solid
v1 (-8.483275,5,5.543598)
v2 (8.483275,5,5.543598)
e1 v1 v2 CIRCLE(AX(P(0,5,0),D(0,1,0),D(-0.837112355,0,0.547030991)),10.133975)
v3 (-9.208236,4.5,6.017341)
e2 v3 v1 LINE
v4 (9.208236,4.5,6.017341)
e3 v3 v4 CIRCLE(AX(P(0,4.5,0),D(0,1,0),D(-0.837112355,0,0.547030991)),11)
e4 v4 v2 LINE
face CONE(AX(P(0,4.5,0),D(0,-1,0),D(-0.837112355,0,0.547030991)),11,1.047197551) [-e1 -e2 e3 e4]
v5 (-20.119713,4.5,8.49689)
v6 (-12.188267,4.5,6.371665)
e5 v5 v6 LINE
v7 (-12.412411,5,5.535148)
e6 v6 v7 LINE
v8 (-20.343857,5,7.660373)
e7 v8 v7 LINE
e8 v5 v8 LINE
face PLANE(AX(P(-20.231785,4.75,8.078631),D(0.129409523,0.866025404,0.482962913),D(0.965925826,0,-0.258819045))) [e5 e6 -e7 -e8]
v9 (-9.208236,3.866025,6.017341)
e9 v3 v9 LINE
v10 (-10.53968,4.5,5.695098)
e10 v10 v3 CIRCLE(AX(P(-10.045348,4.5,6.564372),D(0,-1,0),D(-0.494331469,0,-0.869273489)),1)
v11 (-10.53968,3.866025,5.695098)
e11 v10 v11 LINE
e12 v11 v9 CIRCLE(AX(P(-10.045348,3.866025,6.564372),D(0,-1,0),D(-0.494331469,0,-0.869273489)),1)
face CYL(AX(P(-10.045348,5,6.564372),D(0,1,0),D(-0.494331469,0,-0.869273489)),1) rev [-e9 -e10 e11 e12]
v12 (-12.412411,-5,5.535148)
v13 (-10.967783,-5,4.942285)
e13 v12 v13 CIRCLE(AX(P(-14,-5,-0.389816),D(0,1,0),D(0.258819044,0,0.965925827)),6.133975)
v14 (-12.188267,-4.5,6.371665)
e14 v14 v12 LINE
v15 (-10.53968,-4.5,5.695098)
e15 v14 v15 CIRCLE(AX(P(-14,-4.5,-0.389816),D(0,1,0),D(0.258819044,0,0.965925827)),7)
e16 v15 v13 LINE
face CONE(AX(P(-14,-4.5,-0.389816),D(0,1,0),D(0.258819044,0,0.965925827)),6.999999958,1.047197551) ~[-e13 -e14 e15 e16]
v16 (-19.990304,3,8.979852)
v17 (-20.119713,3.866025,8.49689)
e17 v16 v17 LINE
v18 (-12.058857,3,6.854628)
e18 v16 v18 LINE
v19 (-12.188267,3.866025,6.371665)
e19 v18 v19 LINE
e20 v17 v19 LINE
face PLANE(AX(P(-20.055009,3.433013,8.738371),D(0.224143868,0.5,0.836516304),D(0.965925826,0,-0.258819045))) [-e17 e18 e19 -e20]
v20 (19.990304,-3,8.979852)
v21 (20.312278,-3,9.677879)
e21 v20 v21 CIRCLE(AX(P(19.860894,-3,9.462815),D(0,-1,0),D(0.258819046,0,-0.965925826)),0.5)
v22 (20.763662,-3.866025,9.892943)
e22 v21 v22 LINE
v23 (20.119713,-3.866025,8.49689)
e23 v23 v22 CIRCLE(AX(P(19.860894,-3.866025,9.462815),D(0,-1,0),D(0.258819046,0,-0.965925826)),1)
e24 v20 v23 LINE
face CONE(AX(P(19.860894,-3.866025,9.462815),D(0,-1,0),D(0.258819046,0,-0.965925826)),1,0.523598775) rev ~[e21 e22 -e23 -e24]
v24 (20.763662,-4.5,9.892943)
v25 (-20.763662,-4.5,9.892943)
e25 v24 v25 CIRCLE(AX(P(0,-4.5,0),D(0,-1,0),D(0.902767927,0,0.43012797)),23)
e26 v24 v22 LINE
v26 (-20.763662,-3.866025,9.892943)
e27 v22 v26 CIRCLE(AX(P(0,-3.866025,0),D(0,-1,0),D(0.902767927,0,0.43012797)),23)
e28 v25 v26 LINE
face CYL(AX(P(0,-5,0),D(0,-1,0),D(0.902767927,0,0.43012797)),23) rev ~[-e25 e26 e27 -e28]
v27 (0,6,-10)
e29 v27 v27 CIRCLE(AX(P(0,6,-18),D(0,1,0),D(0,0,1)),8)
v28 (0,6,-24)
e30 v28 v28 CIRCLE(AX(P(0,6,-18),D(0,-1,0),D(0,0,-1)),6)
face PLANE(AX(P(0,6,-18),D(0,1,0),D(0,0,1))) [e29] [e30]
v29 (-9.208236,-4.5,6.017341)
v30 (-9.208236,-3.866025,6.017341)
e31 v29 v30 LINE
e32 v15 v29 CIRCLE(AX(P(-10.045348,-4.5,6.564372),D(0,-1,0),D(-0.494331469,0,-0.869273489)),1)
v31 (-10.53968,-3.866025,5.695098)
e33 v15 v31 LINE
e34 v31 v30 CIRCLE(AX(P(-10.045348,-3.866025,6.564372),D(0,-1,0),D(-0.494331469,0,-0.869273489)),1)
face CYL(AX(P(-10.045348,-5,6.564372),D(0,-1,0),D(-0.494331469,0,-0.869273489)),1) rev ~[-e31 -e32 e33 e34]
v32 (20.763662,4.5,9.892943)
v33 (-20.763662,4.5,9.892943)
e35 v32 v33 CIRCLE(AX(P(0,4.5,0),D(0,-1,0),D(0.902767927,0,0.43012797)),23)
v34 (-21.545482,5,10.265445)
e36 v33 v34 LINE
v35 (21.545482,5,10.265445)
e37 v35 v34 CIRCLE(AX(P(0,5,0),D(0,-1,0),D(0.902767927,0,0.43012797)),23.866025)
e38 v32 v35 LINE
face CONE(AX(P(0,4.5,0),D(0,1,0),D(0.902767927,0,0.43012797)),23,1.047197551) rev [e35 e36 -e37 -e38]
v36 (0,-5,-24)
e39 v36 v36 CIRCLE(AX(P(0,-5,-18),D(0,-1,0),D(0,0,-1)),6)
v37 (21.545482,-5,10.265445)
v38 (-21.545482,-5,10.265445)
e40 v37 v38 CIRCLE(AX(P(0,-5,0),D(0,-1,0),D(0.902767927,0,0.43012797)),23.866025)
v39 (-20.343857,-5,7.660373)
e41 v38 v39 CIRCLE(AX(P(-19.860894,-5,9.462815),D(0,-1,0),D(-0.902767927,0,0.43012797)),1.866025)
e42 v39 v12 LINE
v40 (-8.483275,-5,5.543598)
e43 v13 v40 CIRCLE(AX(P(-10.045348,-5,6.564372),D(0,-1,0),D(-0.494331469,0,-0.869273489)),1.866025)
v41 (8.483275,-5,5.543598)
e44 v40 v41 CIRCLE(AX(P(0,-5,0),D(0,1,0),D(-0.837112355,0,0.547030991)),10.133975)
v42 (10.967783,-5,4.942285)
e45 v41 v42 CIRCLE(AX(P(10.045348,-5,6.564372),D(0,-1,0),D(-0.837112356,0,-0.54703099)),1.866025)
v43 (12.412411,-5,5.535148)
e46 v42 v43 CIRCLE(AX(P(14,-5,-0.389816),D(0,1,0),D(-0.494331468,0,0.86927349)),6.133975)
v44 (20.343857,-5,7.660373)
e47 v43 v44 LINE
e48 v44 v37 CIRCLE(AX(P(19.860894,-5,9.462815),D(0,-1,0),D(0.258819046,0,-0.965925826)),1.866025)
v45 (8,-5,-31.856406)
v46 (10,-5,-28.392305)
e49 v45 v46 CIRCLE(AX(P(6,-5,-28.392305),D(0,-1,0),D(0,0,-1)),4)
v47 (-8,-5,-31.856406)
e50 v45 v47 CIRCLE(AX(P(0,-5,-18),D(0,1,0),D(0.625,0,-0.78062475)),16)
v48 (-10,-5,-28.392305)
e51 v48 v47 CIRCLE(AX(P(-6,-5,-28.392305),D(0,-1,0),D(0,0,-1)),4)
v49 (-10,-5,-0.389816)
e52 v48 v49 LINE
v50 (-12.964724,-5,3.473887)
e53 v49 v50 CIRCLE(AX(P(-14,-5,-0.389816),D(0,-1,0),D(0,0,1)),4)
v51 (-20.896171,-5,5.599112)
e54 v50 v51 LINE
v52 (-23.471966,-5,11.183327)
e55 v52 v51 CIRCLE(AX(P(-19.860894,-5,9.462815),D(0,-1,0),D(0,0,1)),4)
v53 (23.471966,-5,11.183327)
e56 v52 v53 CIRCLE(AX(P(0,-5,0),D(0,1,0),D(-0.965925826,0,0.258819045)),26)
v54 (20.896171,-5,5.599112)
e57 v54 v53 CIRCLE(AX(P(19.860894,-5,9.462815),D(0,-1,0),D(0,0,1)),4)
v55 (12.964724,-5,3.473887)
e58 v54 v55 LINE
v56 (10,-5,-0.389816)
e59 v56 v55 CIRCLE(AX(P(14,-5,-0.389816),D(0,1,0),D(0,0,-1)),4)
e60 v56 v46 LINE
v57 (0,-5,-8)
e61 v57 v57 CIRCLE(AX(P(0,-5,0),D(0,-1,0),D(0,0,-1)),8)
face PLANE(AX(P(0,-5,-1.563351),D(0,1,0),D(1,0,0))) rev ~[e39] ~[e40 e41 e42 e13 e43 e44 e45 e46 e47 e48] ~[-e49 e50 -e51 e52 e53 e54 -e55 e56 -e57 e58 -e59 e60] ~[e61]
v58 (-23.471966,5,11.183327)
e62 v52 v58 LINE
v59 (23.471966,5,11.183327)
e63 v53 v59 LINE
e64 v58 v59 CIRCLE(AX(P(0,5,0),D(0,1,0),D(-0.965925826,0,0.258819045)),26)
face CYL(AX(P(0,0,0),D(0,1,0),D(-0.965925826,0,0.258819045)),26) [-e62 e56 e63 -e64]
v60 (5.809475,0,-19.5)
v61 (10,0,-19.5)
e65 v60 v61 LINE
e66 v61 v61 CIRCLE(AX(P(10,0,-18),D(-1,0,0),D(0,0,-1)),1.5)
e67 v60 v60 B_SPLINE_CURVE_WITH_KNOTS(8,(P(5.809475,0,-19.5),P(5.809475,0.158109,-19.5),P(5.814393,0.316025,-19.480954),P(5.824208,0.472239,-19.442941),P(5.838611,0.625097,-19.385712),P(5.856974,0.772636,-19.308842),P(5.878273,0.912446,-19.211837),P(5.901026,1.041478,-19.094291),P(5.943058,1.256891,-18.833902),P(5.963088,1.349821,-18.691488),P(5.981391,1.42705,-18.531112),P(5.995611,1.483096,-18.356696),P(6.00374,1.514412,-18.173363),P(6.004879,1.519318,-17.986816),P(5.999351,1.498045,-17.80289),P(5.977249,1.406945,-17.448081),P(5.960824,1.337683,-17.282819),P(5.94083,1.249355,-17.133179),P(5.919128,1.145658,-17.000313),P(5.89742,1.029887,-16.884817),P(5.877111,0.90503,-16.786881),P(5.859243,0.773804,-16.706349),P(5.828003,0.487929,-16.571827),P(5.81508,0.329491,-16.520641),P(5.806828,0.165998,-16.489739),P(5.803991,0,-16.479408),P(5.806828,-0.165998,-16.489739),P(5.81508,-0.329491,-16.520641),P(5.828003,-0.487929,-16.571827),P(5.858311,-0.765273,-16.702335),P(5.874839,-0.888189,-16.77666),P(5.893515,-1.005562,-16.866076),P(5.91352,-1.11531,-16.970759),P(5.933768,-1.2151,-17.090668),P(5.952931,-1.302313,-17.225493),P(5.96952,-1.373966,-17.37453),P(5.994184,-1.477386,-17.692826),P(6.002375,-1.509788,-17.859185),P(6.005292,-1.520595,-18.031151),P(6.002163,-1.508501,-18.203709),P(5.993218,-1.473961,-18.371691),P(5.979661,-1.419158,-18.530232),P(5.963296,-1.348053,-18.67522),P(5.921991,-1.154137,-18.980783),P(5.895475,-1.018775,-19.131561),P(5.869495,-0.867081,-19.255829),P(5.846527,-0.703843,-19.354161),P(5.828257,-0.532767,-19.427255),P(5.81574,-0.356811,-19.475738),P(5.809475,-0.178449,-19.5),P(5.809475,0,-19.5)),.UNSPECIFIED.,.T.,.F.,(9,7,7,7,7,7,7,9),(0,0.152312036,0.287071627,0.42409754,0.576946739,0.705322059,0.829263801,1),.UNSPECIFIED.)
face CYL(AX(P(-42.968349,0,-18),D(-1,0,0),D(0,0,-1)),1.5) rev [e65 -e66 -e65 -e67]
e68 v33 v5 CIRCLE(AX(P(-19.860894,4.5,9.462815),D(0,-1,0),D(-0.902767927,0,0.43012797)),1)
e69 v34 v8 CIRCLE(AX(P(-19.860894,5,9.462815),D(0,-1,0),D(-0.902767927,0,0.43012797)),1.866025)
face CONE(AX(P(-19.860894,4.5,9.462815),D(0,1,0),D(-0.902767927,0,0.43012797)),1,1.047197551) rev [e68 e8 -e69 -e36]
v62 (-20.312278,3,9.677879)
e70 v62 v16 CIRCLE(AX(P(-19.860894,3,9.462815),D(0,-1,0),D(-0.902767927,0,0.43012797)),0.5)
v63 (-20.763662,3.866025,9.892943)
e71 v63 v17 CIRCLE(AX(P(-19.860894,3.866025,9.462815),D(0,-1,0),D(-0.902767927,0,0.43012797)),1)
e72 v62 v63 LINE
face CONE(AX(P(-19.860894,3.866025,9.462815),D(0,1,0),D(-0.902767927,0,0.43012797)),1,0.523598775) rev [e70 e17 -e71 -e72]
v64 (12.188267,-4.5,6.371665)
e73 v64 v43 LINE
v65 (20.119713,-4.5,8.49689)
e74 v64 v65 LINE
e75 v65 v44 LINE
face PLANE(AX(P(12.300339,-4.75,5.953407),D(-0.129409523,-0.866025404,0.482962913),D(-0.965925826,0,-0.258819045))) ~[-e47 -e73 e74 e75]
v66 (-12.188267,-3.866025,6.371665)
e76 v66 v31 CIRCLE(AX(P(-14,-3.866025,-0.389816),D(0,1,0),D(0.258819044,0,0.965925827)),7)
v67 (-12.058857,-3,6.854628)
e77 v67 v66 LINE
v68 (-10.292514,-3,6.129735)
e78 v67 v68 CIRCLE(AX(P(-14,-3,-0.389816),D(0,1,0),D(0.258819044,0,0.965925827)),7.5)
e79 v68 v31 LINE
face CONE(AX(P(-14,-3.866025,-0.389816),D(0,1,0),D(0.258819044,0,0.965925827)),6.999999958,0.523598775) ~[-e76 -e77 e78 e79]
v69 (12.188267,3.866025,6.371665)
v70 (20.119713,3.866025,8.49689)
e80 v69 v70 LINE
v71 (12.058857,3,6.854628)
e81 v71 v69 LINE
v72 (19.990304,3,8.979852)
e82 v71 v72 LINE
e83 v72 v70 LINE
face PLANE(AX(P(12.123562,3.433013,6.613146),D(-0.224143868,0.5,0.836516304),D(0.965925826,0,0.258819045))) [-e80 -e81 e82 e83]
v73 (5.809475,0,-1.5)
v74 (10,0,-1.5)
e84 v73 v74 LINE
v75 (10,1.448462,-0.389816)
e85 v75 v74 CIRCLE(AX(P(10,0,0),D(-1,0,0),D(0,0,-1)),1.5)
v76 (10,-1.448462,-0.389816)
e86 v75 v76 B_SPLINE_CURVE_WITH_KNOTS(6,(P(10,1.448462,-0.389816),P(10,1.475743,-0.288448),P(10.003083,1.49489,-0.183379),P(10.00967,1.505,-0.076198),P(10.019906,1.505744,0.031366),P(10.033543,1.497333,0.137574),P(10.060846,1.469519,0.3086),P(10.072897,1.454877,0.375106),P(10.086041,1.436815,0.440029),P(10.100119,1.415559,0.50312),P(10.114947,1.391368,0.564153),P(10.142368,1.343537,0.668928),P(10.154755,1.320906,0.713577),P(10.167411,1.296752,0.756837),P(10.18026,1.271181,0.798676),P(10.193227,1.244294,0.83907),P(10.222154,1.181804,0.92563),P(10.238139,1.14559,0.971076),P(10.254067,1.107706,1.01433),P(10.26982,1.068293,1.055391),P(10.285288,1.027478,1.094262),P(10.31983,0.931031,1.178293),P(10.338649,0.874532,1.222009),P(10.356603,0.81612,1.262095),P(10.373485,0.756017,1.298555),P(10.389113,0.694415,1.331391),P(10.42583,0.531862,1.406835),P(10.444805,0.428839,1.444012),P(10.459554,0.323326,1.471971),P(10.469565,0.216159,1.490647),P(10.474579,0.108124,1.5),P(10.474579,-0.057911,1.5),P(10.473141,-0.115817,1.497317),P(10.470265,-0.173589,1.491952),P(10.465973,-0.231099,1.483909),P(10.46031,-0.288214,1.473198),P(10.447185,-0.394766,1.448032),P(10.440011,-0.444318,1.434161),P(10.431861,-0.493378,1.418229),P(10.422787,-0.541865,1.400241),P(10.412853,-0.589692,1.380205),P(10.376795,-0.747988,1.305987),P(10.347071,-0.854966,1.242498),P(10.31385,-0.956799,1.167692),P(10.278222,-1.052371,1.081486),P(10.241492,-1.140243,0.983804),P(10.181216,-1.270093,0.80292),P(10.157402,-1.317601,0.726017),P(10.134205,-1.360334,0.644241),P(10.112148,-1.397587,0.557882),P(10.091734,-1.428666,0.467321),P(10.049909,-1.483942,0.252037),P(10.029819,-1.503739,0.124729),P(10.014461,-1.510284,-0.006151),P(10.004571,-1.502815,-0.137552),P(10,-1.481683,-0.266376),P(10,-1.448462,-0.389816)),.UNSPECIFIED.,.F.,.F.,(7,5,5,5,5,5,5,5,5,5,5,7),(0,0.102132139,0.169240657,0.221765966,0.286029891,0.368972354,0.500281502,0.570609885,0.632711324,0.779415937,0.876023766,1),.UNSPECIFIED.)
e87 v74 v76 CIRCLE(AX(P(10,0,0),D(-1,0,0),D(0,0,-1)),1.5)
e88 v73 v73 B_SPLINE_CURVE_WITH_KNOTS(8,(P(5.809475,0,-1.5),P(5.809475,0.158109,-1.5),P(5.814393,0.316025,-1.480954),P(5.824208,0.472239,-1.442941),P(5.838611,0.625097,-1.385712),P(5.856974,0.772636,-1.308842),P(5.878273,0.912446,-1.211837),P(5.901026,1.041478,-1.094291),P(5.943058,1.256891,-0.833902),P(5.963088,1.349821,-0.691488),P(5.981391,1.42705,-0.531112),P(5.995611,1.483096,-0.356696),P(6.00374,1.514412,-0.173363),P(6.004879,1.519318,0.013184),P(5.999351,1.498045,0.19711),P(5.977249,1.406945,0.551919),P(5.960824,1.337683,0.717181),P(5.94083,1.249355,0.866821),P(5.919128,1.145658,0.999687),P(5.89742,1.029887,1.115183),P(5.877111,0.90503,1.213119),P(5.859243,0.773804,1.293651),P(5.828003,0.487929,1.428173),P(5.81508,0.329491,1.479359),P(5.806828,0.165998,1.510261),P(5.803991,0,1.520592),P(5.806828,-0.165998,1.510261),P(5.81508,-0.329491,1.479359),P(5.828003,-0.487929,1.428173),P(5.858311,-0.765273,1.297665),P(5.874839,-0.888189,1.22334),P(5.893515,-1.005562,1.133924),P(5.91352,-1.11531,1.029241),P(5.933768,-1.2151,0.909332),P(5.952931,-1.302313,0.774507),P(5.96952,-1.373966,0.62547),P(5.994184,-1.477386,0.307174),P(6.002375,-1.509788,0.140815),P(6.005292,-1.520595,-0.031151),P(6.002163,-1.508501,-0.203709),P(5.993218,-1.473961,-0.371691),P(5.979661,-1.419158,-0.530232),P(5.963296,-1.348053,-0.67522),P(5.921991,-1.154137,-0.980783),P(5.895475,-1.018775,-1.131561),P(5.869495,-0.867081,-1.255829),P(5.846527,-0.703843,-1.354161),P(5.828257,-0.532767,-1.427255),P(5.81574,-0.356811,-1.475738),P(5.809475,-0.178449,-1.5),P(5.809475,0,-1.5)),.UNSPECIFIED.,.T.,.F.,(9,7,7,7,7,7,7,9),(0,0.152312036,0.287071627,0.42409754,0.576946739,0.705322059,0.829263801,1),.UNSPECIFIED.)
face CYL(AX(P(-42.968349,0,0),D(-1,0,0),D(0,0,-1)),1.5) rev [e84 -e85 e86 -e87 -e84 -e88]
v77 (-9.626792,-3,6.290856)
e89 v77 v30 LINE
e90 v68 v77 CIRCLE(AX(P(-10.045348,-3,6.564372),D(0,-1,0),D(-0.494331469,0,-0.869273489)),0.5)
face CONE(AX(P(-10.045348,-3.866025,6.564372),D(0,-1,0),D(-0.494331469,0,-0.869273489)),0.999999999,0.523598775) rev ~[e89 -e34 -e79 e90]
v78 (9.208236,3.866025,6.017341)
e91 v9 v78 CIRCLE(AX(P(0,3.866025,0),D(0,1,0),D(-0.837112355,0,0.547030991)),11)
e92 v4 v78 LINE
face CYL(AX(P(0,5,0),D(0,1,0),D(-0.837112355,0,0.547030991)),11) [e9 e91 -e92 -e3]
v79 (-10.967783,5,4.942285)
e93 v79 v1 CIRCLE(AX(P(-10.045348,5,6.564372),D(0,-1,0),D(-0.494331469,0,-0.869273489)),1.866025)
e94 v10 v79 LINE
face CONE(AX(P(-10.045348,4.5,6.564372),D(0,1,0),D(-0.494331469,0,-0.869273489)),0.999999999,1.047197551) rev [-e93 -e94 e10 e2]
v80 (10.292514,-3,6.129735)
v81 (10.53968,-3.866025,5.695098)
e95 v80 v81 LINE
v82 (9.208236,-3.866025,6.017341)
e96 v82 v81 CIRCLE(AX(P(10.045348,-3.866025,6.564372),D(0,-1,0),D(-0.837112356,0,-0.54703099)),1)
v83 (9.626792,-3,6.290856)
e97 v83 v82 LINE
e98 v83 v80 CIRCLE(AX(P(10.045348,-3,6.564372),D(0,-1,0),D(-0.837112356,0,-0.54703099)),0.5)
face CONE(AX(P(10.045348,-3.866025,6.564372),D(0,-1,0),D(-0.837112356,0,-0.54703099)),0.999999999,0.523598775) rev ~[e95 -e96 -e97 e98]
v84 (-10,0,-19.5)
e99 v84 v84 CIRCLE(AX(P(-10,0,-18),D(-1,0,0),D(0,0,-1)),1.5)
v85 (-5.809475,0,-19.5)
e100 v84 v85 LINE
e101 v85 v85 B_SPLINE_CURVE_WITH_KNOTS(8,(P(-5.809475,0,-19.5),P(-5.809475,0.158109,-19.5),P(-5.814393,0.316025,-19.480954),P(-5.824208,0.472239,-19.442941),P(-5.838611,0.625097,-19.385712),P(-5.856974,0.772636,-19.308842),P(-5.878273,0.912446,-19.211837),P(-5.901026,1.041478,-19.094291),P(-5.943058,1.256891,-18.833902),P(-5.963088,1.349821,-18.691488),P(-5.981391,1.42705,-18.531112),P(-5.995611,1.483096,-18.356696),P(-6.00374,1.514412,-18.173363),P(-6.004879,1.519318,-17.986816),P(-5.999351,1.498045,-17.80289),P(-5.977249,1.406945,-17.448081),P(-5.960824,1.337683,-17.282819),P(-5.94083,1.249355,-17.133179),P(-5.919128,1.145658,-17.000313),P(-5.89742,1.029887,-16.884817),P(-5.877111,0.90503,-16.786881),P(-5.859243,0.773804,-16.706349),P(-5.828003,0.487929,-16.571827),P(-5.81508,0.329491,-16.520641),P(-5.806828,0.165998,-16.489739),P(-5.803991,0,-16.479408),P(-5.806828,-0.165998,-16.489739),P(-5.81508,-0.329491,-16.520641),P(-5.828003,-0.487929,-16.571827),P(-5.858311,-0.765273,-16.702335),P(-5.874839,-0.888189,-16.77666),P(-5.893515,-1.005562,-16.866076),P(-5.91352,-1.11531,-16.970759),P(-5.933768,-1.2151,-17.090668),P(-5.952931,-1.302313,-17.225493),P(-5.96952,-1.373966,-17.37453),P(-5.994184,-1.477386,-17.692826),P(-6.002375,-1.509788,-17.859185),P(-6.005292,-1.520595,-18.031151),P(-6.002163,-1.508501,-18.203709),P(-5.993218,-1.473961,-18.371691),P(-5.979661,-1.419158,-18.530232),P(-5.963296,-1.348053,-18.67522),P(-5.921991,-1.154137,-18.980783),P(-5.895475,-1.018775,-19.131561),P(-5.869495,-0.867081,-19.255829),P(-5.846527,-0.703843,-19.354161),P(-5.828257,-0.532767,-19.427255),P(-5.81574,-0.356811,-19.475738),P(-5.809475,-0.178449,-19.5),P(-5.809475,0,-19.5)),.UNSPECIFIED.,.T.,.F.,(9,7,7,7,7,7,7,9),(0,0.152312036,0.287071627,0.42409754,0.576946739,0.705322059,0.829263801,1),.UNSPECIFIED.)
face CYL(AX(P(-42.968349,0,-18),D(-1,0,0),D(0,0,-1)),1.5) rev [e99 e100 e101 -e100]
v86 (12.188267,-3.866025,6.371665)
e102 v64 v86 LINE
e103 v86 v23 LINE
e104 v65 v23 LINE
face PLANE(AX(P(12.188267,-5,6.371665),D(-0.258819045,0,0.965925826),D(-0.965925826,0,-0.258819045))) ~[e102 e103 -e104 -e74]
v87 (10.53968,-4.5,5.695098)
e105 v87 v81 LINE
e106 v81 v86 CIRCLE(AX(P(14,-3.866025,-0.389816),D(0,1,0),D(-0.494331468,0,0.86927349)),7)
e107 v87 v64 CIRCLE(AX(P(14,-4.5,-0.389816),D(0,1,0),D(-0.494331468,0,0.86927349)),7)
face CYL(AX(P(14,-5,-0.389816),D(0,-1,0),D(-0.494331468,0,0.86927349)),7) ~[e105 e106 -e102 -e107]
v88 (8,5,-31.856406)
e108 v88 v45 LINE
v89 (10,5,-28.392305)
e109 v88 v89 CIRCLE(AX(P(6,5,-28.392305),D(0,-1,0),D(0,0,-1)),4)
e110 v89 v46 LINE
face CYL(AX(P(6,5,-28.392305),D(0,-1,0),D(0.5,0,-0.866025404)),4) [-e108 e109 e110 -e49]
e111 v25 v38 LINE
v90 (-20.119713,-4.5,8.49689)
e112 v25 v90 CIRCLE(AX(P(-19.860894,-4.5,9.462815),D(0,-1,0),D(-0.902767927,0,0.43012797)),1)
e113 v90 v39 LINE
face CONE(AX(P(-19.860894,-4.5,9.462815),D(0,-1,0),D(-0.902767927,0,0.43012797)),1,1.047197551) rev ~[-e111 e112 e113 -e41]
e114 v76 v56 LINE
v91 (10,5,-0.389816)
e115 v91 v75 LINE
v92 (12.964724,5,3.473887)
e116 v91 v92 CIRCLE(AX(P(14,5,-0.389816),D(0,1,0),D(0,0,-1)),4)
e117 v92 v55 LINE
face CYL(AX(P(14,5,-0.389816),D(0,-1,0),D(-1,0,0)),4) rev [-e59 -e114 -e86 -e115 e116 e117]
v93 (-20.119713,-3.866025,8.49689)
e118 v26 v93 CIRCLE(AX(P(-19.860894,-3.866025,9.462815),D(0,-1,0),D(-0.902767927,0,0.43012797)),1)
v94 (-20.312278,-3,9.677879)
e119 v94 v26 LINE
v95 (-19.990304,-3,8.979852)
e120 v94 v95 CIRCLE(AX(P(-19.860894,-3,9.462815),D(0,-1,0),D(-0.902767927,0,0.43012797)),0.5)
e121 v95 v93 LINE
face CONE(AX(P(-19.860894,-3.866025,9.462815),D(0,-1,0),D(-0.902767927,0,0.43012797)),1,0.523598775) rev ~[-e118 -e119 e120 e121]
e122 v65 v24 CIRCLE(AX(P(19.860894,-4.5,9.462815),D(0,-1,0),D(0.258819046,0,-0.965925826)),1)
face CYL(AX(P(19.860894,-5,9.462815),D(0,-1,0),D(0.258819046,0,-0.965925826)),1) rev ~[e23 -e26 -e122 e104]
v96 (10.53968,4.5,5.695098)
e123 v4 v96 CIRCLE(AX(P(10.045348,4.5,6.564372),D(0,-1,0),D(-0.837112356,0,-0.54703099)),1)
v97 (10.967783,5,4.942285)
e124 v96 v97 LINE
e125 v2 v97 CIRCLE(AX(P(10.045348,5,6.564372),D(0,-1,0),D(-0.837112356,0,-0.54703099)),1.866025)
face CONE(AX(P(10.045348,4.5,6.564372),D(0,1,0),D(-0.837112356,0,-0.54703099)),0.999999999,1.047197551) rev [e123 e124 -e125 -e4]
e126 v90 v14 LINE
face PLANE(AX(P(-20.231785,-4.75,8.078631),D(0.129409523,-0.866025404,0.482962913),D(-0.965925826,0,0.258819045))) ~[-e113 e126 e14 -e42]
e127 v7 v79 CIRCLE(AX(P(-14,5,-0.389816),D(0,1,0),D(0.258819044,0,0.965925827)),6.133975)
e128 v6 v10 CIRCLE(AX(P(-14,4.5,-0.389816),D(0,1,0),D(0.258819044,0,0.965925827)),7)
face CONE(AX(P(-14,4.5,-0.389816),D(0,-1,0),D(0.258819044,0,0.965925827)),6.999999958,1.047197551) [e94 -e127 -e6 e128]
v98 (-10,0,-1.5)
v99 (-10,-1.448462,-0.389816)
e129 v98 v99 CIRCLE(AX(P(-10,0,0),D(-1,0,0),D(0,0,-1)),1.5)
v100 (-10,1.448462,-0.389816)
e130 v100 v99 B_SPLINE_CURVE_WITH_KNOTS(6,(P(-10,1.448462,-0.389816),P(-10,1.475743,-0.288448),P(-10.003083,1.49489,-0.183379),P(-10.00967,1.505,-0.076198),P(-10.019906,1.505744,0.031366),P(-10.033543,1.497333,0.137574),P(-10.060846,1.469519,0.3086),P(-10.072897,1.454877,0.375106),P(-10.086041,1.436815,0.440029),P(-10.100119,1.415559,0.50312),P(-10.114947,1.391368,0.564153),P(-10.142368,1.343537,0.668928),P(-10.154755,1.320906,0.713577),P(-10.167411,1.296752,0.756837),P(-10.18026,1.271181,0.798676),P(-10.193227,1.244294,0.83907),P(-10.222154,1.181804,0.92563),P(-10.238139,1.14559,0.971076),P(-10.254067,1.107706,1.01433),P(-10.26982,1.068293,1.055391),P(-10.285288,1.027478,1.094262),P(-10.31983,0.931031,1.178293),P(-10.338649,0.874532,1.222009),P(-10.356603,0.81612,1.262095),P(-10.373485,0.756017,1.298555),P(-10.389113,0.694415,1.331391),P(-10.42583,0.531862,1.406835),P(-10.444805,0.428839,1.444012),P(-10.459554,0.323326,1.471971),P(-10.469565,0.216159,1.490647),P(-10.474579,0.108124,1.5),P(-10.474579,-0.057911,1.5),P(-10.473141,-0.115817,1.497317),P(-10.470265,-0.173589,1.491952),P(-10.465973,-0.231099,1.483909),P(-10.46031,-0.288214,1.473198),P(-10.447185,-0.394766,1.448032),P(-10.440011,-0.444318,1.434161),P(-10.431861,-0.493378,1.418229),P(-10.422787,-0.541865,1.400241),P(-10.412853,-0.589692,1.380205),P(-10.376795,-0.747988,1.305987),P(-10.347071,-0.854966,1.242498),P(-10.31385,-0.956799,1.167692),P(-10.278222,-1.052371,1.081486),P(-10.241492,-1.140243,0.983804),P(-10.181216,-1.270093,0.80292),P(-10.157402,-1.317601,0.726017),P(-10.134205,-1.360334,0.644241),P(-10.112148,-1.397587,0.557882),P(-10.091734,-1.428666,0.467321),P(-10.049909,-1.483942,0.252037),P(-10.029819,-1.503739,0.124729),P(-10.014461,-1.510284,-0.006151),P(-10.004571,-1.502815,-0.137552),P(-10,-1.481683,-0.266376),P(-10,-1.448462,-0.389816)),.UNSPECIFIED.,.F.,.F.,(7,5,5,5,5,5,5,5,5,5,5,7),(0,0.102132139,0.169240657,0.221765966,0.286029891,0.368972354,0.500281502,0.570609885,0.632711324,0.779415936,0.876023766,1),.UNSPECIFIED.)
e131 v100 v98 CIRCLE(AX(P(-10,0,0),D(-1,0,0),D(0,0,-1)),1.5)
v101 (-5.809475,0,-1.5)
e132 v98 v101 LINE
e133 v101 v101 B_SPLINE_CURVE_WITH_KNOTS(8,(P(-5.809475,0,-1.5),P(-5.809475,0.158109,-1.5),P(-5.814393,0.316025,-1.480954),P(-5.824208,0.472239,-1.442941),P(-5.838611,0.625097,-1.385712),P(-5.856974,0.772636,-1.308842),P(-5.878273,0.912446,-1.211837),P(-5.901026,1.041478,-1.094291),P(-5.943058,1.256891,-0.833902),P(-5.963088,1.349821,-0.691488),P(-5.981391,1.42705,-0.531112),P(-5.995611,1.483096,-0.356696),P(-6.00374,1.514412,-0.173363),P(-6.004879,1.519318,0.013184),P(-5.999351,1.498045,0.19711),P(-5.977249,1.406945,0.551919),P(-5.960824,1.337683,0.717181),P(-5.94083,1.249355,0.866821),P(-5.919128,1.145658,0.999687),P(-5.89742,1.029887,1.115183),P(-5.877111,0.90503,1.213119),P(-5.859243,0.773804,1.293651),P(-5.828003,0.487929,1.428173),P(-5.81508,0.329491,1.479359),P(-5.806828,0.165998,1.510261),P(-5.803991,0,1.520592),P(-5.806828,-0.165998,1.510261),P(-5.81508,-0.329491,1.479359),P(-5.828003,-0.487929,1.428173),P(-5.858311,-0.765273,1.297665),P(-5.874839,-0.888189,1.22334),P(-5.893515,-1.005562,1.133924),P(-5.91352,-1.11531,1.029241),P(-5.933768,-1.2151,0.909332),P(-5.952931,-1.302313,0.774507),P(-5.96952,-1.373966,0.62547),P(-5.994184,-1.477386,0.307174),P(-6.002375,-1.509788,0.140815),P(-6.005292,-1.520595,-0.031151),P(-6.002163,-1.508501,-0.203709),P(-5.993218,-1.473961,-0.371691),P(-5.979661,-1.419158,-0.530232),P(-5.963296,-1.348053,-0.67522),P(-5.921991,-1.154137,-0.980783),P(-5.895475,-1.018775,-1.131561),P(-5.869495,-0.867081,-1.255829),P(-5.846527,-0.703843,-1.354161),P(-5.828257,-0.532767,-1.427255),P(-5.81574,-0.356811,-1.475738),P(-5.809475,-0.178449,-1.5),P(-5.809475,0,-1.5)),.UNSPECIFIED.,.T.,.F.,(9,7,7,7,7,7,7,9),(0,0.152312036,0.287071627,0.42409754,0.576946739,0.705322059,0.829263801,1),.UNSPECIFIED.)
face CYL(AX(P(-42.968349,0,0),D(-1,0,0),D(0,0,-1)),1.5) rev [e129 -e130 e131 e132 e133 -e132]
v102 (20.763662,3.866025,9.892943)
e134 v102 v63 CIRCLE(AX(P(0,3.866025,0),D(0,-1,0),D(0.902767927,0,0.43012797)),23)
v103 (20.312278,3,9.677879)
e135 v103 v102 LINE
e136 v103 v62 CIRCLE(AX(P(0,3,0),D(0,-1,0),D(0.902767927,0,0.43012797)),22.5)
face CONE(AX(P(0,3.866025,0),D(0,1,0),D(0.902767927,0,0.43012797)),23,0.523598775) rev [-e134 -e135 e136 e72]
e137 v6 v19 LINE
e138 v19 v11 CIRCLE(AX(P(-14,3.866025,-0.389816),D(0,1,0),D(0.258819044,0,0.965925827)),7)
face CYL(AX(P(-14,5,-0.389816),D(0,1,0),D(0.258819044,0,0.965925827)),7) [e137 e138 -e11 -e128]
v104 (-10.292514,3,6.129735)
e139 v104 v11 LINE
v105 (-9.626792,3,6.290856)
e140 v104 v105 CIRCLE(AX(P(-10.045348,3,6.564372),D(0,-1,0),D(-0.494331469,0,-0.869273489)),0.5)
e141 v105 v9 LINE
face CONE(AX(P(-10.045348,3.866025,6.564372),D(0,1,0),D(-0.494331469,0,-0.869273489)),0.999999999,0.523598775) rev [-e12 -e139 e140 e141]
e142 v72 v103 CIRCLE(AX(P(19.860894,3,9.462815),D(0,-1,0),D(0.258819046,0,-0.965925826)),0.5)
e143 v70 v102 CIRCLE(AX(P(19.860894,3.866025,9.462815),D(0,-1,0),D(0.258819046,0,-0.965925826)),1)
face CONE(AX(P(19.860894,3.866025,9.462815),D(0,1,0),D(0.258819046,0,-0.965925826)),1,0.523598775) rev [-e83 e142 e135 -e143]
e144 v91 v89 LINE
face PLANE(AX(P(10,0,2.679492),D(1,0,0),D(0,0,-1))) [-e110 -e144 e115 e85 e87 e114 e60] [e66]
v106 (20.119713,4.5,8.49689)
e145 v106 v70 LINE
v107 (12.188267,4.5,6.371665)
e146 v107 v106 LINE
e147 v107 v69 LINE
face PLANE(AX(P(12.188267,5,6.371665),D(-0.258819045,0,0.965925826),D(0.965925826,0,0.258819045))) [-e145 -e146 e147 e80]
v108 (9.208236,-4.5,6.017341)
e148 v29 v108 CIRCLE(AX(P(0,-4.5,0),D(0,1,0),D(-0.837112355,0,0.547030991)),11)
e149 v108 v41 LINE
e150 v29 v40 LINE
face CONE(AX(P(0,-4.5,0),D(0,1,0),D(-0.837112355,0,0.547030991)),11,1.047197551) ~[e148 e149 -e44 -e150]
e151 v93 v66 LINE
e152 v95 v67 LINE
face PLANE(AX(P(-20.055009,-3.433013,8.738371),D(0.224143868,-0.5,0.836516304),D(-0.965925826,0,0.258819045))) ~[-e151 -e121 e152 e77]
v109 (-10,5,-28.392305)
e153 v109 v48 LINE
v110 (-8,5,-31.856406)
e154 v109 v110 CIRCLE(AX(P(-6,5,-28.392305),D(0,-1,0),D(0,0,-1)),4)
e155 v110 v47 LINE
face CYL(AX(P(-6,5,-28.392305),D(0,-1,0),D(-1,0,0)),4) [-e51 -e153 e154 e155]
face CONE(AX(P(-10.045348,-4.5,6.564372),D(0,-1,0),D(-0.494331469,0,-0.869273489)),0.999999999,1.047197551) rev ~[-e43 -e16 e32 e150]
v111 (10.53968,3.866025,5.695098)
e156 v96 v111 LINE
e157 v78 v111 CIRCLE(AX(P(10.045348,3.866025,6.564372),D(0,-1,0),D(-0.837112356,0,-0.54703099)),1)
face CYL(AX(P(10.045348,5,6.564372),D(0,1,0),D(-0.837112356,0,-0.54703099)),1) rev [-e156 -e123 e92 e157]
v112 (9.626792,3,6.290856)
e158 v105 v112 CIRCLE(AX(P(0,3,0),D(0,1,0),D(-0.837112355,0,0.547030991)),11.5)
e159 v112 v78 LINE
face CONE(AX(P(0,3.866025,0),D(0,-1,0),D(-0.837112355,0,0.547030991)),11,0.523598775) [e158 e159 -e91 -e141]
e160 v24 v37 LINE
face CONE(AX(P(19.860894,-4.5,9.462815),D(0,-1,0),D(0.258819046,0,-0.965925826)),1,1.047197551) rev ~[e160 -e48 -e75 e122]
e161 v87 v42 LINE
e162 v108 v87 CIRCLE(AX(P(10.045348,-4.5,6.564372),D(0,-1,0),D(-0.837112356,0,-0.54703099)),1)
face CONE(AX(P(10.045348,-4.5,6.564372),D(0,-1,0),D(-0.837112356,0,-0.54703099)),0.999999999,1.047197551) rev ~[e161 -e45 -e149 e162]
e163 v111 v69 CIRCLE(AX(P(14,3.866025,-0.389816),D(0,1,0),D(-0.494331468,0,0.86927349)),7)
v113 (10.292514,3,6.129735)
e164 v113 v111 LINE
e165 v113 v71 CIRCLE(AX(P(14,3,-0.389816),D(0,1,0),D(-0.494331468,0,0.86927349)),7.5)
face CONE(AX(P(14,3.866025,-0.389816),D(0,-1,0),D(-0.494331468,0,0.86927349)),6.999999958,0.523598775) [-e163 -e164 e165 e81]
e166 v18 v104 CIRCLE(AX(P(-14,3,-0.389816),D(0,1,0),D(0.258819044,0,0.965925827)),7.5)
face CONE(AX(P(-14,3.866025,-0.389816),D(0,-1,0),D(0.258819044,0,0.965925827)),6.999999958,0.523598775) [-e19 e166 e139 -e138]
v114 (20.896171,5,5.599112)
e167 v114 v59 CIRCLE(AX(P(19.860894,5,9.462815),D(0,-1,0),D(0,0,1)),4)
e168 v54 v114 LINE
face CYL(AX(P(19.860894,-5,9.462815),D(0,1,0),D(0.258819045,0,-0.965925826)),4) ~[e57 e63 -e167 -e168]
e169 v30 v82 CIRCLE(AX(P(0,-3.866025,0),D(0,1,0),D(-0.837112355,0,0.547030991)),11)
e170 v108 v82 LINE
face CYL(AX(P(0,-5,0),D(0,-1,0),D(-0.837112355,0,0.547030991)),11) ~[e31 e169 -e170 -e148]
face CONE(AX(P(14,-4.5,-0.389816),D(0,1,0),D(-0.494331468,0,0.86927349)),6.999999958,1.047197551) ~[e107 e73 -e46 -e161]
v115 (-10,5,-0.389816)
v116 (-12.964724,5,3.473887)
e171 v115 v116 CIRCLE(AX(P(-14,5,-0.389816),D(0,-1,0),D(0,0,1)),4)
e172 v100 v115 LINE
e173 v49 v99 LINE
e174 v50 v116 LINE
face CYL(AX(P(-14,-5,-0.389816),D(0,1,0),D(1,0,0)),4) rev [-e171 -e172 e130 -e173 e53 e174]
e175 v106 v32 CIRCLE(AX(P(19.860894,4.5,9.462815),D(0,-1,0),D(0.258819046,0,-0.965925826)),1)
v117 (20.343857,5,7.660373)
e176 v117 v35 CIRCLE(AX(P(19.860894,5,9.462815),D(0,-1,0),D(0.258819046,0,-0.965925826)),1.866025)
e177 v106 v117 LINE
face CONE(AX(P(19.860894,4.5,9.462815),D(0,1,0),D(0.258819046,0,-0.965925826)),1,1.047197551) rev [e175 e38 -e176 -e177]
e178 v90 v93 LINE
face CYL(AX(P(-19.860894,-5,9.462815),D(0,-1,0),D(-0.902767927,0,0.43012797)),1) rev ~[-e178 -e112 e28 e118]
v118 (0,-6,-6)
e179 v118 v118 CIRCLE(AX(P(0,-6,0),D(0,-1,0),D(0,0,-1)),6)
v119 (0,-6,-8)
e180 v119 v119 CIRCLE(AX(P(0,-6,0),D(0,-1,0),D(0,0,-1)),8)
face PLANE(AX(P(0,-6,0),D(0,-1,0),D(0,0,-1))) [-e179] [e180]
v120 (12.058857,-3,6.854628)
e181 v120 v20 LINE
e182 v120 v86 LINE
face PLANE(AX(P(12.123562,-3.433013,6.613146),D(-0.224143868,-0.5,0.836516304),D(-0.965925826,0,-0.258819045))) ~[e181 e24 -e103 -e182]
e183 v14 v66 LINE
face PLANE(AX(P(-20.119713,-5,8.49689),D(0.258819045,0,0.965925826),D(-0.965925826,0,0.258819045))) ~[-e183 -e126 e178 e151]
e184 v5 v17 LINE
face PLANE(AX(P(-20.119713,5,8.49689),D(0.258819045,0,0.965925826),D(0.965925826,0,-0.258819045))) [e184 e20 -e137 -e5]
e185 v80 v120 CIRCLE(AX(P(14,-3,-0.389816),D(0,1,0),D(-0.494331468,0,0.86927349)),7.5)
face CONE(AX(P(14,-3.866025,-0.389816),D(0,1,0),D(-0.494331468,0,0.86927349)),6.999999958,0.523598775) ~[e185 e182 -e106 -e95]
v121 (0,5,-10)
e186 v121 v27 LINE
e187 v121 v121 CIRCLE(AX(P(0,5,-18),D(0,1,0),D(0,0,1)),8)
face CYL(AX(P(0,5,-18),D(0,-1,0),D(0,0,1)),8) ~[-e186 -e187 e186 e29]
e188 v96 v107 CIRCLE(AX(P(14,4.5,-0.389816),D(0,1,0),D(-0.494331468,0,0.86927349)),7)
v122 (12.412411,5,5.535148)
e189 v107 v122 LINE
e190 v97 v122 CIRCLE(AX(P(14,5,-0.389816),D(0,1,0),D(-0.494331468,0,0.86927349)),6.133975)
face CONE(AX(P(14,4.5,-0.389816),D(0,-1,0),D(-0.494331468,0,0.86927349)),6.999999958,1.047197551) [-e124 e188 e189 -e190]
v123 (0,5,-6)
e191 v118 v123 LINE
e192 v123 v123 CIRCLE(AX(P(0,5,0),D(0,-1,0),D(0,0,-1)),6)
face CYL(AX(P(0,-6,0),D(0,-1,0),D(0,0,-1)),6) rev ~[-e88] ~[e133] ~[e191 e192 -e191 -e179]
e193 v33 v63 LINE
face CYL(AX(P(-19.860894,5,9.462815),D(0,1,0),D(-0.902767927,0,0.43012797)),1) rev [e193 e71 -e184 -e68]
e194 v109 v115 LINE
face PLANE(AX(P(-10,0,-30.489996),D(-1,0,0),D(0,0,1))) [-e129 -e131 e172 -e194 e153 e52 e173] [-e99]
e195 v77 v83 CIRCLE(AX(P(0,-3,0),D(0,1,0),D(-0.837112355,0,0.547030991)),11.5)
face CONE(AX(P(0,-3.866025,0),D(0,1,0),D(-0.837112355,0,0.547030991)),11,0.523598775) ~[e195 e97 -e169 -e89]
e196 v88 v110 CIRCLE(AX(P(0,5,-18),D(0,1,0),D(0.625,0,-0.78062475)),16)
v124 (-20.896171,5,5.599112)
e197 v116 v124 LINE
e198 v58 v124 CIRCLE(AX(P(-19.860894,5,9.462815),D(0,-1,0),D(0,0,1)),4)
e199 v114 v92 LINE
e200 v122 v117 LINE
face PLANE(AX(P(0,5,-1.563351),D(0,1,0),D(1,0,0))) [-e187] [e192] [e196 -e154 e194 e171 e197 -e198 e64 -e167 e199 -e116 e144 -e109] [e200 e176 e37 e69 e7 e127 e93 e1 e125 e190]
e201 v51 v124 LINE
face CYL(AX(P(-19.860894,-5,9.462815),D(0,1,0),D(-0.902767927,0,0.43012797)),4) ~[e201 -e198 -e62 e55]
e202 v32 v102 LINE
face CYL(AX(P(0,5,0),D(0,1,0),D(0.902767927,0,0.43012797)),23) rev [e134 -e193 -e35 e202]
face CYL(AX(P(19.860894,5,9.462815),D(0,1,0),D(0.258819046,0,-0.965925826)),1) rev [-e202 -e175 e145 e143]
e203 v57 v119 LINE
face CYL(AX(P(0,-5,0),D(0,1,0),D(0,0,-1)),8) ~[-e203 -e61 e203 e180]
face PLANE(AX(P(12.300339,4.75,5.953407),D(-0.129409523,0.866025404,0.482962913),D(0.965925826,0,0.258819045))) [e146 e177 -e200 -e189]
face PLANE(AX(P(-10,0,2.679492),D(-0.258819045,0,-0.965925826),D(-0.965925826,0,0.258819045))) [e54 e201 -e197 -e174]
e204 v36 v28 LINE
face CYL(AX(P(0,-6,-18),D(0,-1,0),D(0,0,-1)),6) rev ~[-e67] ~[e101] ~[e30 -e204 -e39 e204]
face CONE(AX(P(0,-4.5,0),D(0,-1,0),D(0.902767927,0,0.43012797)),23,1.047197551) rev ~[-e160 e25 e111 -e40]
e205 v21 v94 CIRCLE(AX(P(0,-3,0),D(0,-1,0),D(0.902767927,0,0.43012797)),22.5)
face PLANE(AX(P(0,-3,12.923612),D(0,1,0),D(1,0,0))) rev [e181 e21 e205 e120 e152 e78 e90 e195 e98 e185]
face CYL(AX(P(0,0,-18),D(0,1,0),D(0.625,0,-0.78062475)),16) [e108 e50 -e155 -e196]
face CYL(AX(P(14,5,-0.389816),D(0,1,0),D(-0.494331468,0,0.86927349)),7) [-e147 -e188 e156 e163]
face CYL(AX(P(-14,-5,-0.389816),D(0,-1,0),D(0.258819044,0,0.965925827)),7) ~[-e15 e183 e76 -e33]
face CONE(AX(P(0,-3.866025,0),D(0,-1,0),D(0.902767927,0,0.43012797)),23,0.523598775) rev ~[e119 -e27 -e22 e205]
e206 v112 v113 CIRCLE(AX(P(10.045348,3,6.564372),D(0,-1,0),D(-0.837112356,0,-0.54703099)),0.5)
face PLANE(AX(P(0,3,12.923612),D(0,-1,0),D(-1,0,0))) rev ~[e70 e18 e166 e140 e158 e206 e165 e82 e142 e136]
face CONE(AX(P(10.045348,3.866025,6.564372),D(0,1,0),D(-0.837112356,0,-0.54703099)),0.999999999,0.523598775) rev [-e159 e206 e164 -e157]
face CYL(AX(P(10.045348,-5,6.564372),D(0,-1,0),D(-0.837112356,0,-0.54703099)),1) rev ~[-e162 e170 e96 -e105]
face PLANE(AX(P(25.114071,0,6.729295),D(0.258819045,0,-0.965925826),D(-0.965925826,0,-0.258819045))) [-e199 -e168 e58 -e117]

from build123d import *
from OCP.BRepFilletAPI import BRepFilletAPI_MakeChamfer

# Parameters (mm, degrees)
BOSS_EXTRUDE1_DEPTH       = 5
FILLET1_R                 = 4
SKETCH2_R                 = 8
BOSS_EXTRUDE2_DEPTH       = 1
SKETCH3_R                 = 8
BOSS_EXTRUDE3_DEPTH       = 1
SKETCH4_R                 = 6
CUT_EXTRUDE1_DEPTH        = 44.235891121
CUT_EXTRUDE2_DEPTH        = 2
CHAMFER1_SIZE             = 0.5
CHAMFER1_SIZE2            = 0.866025404
CHAMFER1_OF_MIRROR1_SIZE  = 0.5
CHAMFER1_OF_MIRROR1_SIZE2 = 0.866025404
CUT_EXTRUDE3_DEPTH        = 42.968348563
CUT_EXTRUDE3_DEPTH_BACK   = 42.968348563
SKETCH6_R                 = 1.5


with BuildPart() as part:
    # Sketch1 → Boss-Extrude1 (new, symmetric)
    with BuildSketch(Plane(origin=(0, 0, 0), x_dir=(1, 0, 0), z_dir=(0, 1, 0))):
        with BuildLine():
            Line((-10, 30.489995997), (-10, -2.679491924))
            Line((-10, -2.679491924), (-25.114071484, -6.729295173))
            ThreePointArc((-25.114071484, -6.729295173), (0, -26), (25.114071484, -6.729295173))
            Line((25.114071484, -6.729295173), (10, -2.679491924))
            Line((10, -2.679491924), (10, 30.489995997))
            ThreePointArc((10, 30.489995997), (0, 34), (-10, 30.489995997))
        make_face()
    extrude(amount=BOSS_EXTRUDE1_DEPTH, both=True)

    # Fillet1
    fillet1_edges = [part.edges().sort_by_distance(p)[0] for p in [
        (10, 0, -30.489995997),
        (10, 0, 2.679491924),
        (25.114071484, 0, 6.729295173),
        (-25.114071484, 0, 6.729295173),
        (-10, 0, 2.679491924),
        (-10, 0, -30.489995997),
    ]]
    fillet(fillet1_edges, radius=FILLET1_R)

    # Sketch2 → Boss-Extrude2 (add)
    with BuildSketch(Plane.XZ.offset(5)):
        with Locations(Location((0, 0, 0), (0, 0, 270))):
            Circle(SKETCH2_R)
    extrude(amount=BOSS_EXTRUDE2_DEPTH)

    # Sketch3 → Boss-Extrude3 (add)
    with BuildSketch(Plane(origin=(0, 5, 0), x_dir=(1, 0, 0), z_dir=(0, 1, 0))):
        with Locations(Location((0, 18, 0), (0, 0, 270))):
            Circle(SKETCH3_R)
    extrude(amount=BOSS_EXTRUDE3_DEPTH)

    # Sketch4 → Cut-Extrude1 (cut, through all)
    with BuildSketch(Plane.XZ.offset(6)):
        with Locations(Location((0, 0, 0), (0, 0, 270))):
            Circle(SKETCH4_R)
        with Locations(Location((0, -18, 0), (0, 0, 270))):
            Circle(SKETCH4_R)
    extrude(amount=-CUT_EXTRUDE1_DEPTH, mode=Mode.SUBTRACT)

    # Sketch5 → Cut-Extrude2 (cut)
    with BuildSketch(Plane(origin=(0, 5, 0), x_dir=(1, 0, 0), z_dir=(0, 1, 0))):
        with BuildLine():
            Line((12.188266684, -6.371664756), (20.119713435, -8.496889508))
            ThreePointArc((20.119713435, -8.496889508), (20.768948696, -9.043962883), (20.763662316, -9.892943304))
            ThreePointArc((20.763662316, -9.892943304), (0, -23), (-20.763662316, -9.892943304))
            ThreePointArc((-20.763662316, -9.892943304), (-20.768948696, -9.043962883), (-20.119713435, -8.496889508))
            Line((-20.119713435, -8.496889508), (-12.188266684, -6.371664756))
            ThreePointArc((-12.188266684, -6.371664756), (-11.342355786, -6.086056673), (-10.539679728, -5.695098402))
            ThreePointArc((-10.539679728, -5.695098402), (-9.810114884, -5.592432974), (-9.208235905, -6.017340901))
            ThreePointArc((-9.208235905, -6.017340901), (0, -11), (9.208235905, -6.017340901))
            ThreePointArc((9.208235905, -6.017340901), (9.810114884, -5.592432974), (10.539679728, -5.695098402))
            ThreePointArc((10.539679728, -5.695098402), (11.342355786, -6.086056673), (12.188266684, -6.371664756))
        make_face()
    cut_extrude2 = extrude(amount=-CUT_EXTRUDE2_DEPTH, mode=Mode.SUBTRACT)

    # Chamfer1: one chamfer whose edges measure the first distance from different faces: ONE call of the kernel's chamfer builder (chamfer() names one face for all edges)
    chamfer1_edges_1 = [part.edges().sort_by_distance(p)[0] for p in [
        (9.810114884, 3, 5.592432974),
        (11.342355786, 3, 6.086056673),
        (16.153990059, 3, 7.434277132),
        (20.768948696, 3, 9.043962883),
        (0, 3, 23),
        (-20.768948696, 3, 9.043962883),
        (-16.153990059, 3, 7.434277132),
        (-11.342355786, 3, 6.086056673),
        (-9.810114884, 3, 5.592432974),
        (0, 3, 11),
    ]]
    chamfer1_side_1 = [part.faces().sort_by_distance(p)[0] for p in [
        (0, 3, 14.19755549),
    ]]
    chamfer1_edges_2 = [part.edges().sort_by_distance(p)[0] for p in [
        (9.810114884, 5, 5.592432974),
    ]]
    chamfer1_side_2 = [part.faces().sort_by_distance(p)[0] for p in [
        (9.810114884, 4, 5.592432974),
    ]]
    chamfer1_edges_3 = [part.edges().sort_by_distance(p)[0] for p in [
        (0, 5, 11),
    ]]
    chamfer1_side_3 = [part.faces().sort_by_distance(p)[0] for p in [
        (0, 4, 11),
    ]]
    chamfer1_edges_4 = [part.edges().sort_by_distance(p)[0] for p in [
        (-9.810114884, 5, 5.592432974),
    ]]
    chamfer1_side_4 = [part.faces().sort_by_distance(p)[0] for p in [
        (-9.810114884, 4, 5.592432974),
    ]]
    chamfer1_edges_5 = [part.edges().sort_by_distance(p)[0] for p in [
        (-11.342355786, 5, 6.086056673),
    ]]
    chamfer1_side_5 = [part.faces().sort_by_distance(p)[0] for p in [
        (-11.342355786, 4, 6.086056673),
    ]]
    chamfer1_edges_6 = [part.edges().sort_by_distance(p)[0] for p in [
        (-16.153990059, 5, 7.434277132),
    ]]
    chamfer1_side_6 = [part.faces().sort_by_distance(p)[0] for p in [
        (-16.153990059, 4, 7.434277132),
    ]]
    chamfer1_edges_7 = [part.edges().sort_by_distance(p)[0] for p in [
        (-20.768948696, 5, 9.043962883),
    ]]
    chamfer1_side_7 = [part.faces().sort_by_distance(p)[0] for p in [
        (-20.768948696, 4, 9.043962883),
    ]]
    chamfer1_edges_8 = [part.edges().sort_by_distance(p)[0] for p in [
        (0, 5, 23),
    ]]
    chamfer1_side_8 = [part.faces().sort_by_distance(p)[0] for p in [
        (0, 4, 23),
    ]]
    chamfer1_edges_9 = [part.edges().sort_by_distance(p)[0] for p in [
        (20.768948696, 5, 9.043962883),
    ]]
    chamfer1_side_9 = [part.faces().sort_by_distance(p)[0] for p in [
        (20.768948696, 4, 9.043962883),
    ]]
    chamfer1_edges_10 = [part.edges().sort_by_distance(p)[0] for p in [
        (16.153990059, 5, 7.434277132),
    ]]
    chamfer1_side_10 = [part.faces().sort_by_distance(p)[0] for p in [
        (16.153990059, 4, 7.434277132),
    ]]
    chamfer1_edges_11 = [part.edges().sort_by_distance(p)[0] for p in [
        (11.342355786, 5, 6.086056673),
    ]]
    chamfer1_side_11 = [part.faces().sort_by_distance(p)[0] for p in [
        (11.342355786, 4, 6.086056673),
    ]]
    chamfer1 = BRepFilletAPI_MakeChamfer(part.part.solid().wrapped)
    for e in chamfer1_edges_1:
        chamfer1.Add(CHAMFER1_SIZE, CHAMFER1_SIZE2, e.wrapped, chamfer1_side_1[0].wrapped)  # the first distance lies on this face
    for e in chamfer1_edges_2:
        chamfer1.Add(CHAMFER1_SIZE, CHAMFER1_SIZE2, e.wrapped, chamfer1_side_2[0].wrapped)  # the first distance lies on this face
    for e in chamfer1_edges_3:
        chamfer1.Add(CHAMFER1_SIZE, CHAMFER1_SIZE2, e.wrapped, chamfer1_side_3[0].wrapped)  # the first distance lies on this face
    for e in chamfer1_edges_4:
        chamfer1.Add(CHAMFER1_SIZE, CHAMFER1_SIZE2, e.wrapped, chamfer1_side_4[0].wrapped)  # the first distance lies on this face
    for e in chamfer1_edges_5:
        chamfer1.Add(CHAMFER1_SIZE, CHAMFER1_SIZE2, e.wrapped, chamfer1_side_5[0].wrapped)  # the first distance lies on this face
    for e in chamfer1_edges_6:
        chamfer1.Add(CHAMFER1_SIZE, CHAMFER1_SIZE2, e.wrapped, chamfer1_side_6[0].wrapped)  # the first distance lies on this face
    for e in chamfer1_edges_7:
        chamfer1.Add(CHAMFER1_SIZE, CHAMFER1_SIZE2, e.wrapped, chamfer1_side_7[0].wrapped)  # the first distance lies on this face
    for e in chamfer1_edges_8:
        chamfer1.Add(CHAMFER1_SIZE, CHAMFER1_SIZE2, e.wrapped, chamfer1_side_8[0].wrapped)  # the first distance lies on this face
    for e in chamfer1_edges_9:
        chamfer1.Add(CHAMFER1_SIZE, CHAMFER1_SIZE2, e.wrapped, chamfer1_side_9[0].wrapped)  # the first distance lies on this face
    for e in chamfer1_edges_10:
        chamfer1.Add(CHAMFER1_SIZE, CHAMFER1_SIZE2, e.wrapped, chamfer1_side_10[0].wrapped)  # the first distance lies on this face
    for e in chamfer1_edges_11:
        chamfer1.Add(CHAMFER1_SIZE, CHAMFER1_SIZE2, e.wrapped, chamfer1_side_11[0].wrapped)  # the first distance lies on this face
    add(Compound.cast(chamfer1.Shape()), mode=Mode.REPLACE)

    # Mirror1: Cut-Extrude2 across plane
    add(cut_extrude2.mirror(Plane.ZX), mode=Mode.SUBTRACT)

    # Chamfer1 of Mirror1: one chamfer whose edges measure the first distance from different faces: ONE call of the kernel's chamfer builder (chamfer() names one face for all edges)
    chamfer1_of_mirror1_edges_1 = [part.edges().sort_by_distance(p)[0] for p in [
        (9.810114884, -3, 5.592432974),
        (11.342355786, -3, 6.086056673),
        (16.153990059, -3, 7.434277132),
        (20.768948696, -3, 9.043962883),
        (0, -3, 23),
        (-20.768948696, -3, 9.043962883),
        (-16.153990059, -3, 7.434277132),
        (-11.342355786, -3, 6.086056673),
        (-9.810114884, -3, 5.592432974),
        (0, -3, 11),
    ]]
    chamfer1_of_mirror1_side_1 = [part.faces().sort_by_distance(p)[0] for p in [
        (0, -3, 14.19755549),
    ]]
    chamfer1_of_mirror1_edges_2 = [part.edges().sort_by_distance(p)[0] for p in [
        (9.810114884, -5, 5.592432974),
    ]]
    chamfer1_of_mirror1_side_2 = [part.faces().sort_by_distance(p)[0] for p in [
        (9.810114884, -4, 5.592432974),
    ]]
    chamfer1_of_mirror1_edges_3 = [part.edges().sort_by_distance(p)[0] for p in [
        (0, -5, 11),
    ]]
    chamfer1_of_mirror1_side_3 = [part.faces().sort_by_distance(p)[0] for p in [
        (0, -4, 11),
    ]]
    chamfer1_of_mirror1_edges_4 = [part.edges().sort_by_distance(p)[0] for p in [
        (-9.810114884, -5, 5.592432974),
    ]]
    chamfer1_of_mirror1_side_4 = [part.faces().sort_by_distance(p)[0] for p in [
        (-9.810114884, -4, 5.592432974),
    ]]
    chamfer1_of_mirror1_edges_5 = [part.edges().sort_by_distance(p)[0] for p in [
        (-11.342355786, -5, 6.086056673),
    ]]
    chamfer1_of_mirror1_side_5 = [part.faces().sort_by_distance(p)[0] for p in [
        (-11.342355786, -4, 6.086056673),
    ]]
    chamfer1_of_mirror1_edges_6 = [part.edges().sort_by_distance(p)[0] for p in [
        (-16.153990059, -5, 7.434277132),
    ]]
    chamfer1_of_mirror1_side_6 = [part.faces().sort_by_distance(p)[0] for p in [
        (-16.153990059, -4, 7.434277132),
    ]]
    chamfer1_of_mirror1_edges_7 = [part.edges().sort_by_distance(p)[0] for p in [
        (-20.768948696, -5, 9.043962883),
    ]]
    chamfer1_of_mirror1_side_7 = [part.faces().sort_by_distance(p)[0] for p in [
        (-20.768948696, -4, 9.043962883),
    ]]
    chamfer1_of_mirror1_edges_8 = [part.edges().sort_by_distance(p)[0] for p in [
        (0, -5, 23),
    ]]
    chamfer1_of_mirror1_side_8 = [part.faces().sort_by_distance(p)[0] for p in [
        (0, -4, 23),
    ]]
    chamfer1_of_mirror1_edges_9 = [part.edges().sort_by_distance(p)[0] for p in [
        (20.768948696, -5, 9.043962883),
    ]]
    chamfer1_of_mirror1_side_9 = [part.faces().sort_by_distance(p)[0] for p in [
        (20.768948696, -4, 9.043962883),
    ]]
    chamfer1_of_mirror1_edges_10 = [part.edges().sort_by_distance(p)[0] for p in [
        (16.153990059, -5, 7.434277132),
    ]]
    chamfer1_of_mirror1_side_10 = [part.faces().sort_by_distance(p)[0] for p in [
        (16.153990059, -4, 7.434277132),
    ]]
    chamfer1_of_mirror1_edges_11 = [part.edges().sort_by_distance(p)[0] for p in [
        (11.342355786, -5, 6.086056673),
    ]]
    chamfer1_of_mirror1_side_11 = [part.faces().sort_by_distance(p)[0] for p in [
        (11.342355786, -4, 6.086056673),
    ]]
    chamfer1_of_mirror1 = BRepFilletAPI_MakeChamfer(part.part.solid().wrapped)
    for e in chamfer1_of_mirror1_edges_1:
        chamfer1_of_mirror1.Add(CHAMFER1_OF_MIRROR1_SIZE, CHAMFER1_OF_MIRROR1_SIZE2, e.wrapped, chamfer1_of_mirror1_side_1[0].wrapped)  # the first distance lies on this face
    for e in chamfer1_of_mirror1_edges_2:
        chamfer1_of_mirror1.Add(CHAMFER1_OF_MIRROR1_SIZE, CHAMFER1_OF_MIRROR1_SIZE2, e.wrapped, chamfer1_of_mirror1_side_2[0].wrapped)  # the first distance lies on this face
    for e in chamfer1_of_mirror1_edges_3:
        chamfer1_of_mirror1.Add(CHAMFER1_OF_MIRROR1_SIZE, CHAMFER1_OF_MIRROR1_SIZE2, e.wrapped, chamfer1_of_mirror1_side_3[0].wrapped)  # the first distance lies on this face
    for e in chamfer1_of_mirror1_edges_4:
        chamfer1_of_mirror1.Add(CHAMFER1_OF_MIRROR1_SIZE, CHAMFER1_OF_MIRROR1_SIZE2, e.wrapped, chamfer1_of_mirror1_side_4[0].wrapped)  # the first distance lies on this face
    for e in chamfer1_of_mirror1_edges_5:
        chamfer1_of_mirror1.Add(CHAMFER1_OF_MIRROR1_SIZE, CHAMFER1_OF_MIRROR1_SIZE2, e.wrapped, chamfer1_of_mirror1_side_5[0].wrapped)  # the first distance lies on this face
    for e in chamfer1_of_mirror1_edges_6:
        chamfer1_of_mirror1.Add(CHAMFER1_OF_MIRROR1_SIZE, CHAMFER1_OF_MIRROR1_SIZE2, e.wrapped, chamfer1_of_mirror1_side_6[0].wrapped)  # the first distance lies on this face
    for e in chamfer1_of_mirror1_edges_7:
        chamfer1_of_mirror1.Add(CHAMFER1_OF_MIRROR1_SIZE, CHAMFER1_OF_MIRROR1_SIZE2, e.wrapped, chamfer1_of_mirror1_side_7[0].wrapped)  # the first distance lies on this face
    for e in chamfer1_of_mirror1_edges_8:
        chamfer1_of_mirror1.Add(CHAMFER1_OF_MIRROR1_SIZE, CHAMFER1_OF_MIRROR1_SIZE2, e.wrapped, chamfer1_of_mirror1_side_8[0].wrapped)  # the first distance lies on this face
    for e in chamfer1_of_mirror1_edges_9:
        chamfer1_of_mirror1.Add(CHAMFER1_OF_MIRROR1_SIZE, CHAMFER1_OF_MIRROR1_SIZE2, e.wrapped, chamfer1_of_mirror1_side_9[0].wrapped)  # the first distance lies on this face
    for e in chamfer1_of_mirror1_edges_10:
        chamfer1_of_mirror1.Add(CHAMFER1_OF_MIRROR1_SIZE, CHAMFER1_OF_MIRROR1_SIZE2, e.wrapped, chamfer1_of_mirror1_side_10[0].wrapped)  # the first distance lies on this face
    for e in chamfer1_of_mirror1_edges_11:
        chamfer1_of_mirror1.Add(CHAMFER1_OF_MIRROR1_SIZE, CHAMFER1_OF_MIRROR1_SIZE2, e.wrapped, chamfer1_of_mirror1_side_11[0].wrapped)  # the first distance lies on this face
    add(Compound.cast(chamfer1_of_mirror1.Shape()), mode=Mode.REPLACE)

    # Sketch6 → Cut-Extrude3 (cut, two sides: drawn at the far end of the back side and taken through both)
    with BuildSketch(Plane(origin=(0, 0, 0), x_dir=(0, 0, -1), z_dir=(1, 0, 0)).offset(-CUT_EXTRUDE3_DEPTH_BACK)):
        Circle(SKETCH6_R)
        with Locations((18, 0)):
            Circle(SKETCH6_R)
    extrude(amount=CUT_EXTRUDE3_DEPTH + CUT_EXTRUDE3_DEPTH_BACK, mode=Mode.SUBTRACT)


solid = part.part
